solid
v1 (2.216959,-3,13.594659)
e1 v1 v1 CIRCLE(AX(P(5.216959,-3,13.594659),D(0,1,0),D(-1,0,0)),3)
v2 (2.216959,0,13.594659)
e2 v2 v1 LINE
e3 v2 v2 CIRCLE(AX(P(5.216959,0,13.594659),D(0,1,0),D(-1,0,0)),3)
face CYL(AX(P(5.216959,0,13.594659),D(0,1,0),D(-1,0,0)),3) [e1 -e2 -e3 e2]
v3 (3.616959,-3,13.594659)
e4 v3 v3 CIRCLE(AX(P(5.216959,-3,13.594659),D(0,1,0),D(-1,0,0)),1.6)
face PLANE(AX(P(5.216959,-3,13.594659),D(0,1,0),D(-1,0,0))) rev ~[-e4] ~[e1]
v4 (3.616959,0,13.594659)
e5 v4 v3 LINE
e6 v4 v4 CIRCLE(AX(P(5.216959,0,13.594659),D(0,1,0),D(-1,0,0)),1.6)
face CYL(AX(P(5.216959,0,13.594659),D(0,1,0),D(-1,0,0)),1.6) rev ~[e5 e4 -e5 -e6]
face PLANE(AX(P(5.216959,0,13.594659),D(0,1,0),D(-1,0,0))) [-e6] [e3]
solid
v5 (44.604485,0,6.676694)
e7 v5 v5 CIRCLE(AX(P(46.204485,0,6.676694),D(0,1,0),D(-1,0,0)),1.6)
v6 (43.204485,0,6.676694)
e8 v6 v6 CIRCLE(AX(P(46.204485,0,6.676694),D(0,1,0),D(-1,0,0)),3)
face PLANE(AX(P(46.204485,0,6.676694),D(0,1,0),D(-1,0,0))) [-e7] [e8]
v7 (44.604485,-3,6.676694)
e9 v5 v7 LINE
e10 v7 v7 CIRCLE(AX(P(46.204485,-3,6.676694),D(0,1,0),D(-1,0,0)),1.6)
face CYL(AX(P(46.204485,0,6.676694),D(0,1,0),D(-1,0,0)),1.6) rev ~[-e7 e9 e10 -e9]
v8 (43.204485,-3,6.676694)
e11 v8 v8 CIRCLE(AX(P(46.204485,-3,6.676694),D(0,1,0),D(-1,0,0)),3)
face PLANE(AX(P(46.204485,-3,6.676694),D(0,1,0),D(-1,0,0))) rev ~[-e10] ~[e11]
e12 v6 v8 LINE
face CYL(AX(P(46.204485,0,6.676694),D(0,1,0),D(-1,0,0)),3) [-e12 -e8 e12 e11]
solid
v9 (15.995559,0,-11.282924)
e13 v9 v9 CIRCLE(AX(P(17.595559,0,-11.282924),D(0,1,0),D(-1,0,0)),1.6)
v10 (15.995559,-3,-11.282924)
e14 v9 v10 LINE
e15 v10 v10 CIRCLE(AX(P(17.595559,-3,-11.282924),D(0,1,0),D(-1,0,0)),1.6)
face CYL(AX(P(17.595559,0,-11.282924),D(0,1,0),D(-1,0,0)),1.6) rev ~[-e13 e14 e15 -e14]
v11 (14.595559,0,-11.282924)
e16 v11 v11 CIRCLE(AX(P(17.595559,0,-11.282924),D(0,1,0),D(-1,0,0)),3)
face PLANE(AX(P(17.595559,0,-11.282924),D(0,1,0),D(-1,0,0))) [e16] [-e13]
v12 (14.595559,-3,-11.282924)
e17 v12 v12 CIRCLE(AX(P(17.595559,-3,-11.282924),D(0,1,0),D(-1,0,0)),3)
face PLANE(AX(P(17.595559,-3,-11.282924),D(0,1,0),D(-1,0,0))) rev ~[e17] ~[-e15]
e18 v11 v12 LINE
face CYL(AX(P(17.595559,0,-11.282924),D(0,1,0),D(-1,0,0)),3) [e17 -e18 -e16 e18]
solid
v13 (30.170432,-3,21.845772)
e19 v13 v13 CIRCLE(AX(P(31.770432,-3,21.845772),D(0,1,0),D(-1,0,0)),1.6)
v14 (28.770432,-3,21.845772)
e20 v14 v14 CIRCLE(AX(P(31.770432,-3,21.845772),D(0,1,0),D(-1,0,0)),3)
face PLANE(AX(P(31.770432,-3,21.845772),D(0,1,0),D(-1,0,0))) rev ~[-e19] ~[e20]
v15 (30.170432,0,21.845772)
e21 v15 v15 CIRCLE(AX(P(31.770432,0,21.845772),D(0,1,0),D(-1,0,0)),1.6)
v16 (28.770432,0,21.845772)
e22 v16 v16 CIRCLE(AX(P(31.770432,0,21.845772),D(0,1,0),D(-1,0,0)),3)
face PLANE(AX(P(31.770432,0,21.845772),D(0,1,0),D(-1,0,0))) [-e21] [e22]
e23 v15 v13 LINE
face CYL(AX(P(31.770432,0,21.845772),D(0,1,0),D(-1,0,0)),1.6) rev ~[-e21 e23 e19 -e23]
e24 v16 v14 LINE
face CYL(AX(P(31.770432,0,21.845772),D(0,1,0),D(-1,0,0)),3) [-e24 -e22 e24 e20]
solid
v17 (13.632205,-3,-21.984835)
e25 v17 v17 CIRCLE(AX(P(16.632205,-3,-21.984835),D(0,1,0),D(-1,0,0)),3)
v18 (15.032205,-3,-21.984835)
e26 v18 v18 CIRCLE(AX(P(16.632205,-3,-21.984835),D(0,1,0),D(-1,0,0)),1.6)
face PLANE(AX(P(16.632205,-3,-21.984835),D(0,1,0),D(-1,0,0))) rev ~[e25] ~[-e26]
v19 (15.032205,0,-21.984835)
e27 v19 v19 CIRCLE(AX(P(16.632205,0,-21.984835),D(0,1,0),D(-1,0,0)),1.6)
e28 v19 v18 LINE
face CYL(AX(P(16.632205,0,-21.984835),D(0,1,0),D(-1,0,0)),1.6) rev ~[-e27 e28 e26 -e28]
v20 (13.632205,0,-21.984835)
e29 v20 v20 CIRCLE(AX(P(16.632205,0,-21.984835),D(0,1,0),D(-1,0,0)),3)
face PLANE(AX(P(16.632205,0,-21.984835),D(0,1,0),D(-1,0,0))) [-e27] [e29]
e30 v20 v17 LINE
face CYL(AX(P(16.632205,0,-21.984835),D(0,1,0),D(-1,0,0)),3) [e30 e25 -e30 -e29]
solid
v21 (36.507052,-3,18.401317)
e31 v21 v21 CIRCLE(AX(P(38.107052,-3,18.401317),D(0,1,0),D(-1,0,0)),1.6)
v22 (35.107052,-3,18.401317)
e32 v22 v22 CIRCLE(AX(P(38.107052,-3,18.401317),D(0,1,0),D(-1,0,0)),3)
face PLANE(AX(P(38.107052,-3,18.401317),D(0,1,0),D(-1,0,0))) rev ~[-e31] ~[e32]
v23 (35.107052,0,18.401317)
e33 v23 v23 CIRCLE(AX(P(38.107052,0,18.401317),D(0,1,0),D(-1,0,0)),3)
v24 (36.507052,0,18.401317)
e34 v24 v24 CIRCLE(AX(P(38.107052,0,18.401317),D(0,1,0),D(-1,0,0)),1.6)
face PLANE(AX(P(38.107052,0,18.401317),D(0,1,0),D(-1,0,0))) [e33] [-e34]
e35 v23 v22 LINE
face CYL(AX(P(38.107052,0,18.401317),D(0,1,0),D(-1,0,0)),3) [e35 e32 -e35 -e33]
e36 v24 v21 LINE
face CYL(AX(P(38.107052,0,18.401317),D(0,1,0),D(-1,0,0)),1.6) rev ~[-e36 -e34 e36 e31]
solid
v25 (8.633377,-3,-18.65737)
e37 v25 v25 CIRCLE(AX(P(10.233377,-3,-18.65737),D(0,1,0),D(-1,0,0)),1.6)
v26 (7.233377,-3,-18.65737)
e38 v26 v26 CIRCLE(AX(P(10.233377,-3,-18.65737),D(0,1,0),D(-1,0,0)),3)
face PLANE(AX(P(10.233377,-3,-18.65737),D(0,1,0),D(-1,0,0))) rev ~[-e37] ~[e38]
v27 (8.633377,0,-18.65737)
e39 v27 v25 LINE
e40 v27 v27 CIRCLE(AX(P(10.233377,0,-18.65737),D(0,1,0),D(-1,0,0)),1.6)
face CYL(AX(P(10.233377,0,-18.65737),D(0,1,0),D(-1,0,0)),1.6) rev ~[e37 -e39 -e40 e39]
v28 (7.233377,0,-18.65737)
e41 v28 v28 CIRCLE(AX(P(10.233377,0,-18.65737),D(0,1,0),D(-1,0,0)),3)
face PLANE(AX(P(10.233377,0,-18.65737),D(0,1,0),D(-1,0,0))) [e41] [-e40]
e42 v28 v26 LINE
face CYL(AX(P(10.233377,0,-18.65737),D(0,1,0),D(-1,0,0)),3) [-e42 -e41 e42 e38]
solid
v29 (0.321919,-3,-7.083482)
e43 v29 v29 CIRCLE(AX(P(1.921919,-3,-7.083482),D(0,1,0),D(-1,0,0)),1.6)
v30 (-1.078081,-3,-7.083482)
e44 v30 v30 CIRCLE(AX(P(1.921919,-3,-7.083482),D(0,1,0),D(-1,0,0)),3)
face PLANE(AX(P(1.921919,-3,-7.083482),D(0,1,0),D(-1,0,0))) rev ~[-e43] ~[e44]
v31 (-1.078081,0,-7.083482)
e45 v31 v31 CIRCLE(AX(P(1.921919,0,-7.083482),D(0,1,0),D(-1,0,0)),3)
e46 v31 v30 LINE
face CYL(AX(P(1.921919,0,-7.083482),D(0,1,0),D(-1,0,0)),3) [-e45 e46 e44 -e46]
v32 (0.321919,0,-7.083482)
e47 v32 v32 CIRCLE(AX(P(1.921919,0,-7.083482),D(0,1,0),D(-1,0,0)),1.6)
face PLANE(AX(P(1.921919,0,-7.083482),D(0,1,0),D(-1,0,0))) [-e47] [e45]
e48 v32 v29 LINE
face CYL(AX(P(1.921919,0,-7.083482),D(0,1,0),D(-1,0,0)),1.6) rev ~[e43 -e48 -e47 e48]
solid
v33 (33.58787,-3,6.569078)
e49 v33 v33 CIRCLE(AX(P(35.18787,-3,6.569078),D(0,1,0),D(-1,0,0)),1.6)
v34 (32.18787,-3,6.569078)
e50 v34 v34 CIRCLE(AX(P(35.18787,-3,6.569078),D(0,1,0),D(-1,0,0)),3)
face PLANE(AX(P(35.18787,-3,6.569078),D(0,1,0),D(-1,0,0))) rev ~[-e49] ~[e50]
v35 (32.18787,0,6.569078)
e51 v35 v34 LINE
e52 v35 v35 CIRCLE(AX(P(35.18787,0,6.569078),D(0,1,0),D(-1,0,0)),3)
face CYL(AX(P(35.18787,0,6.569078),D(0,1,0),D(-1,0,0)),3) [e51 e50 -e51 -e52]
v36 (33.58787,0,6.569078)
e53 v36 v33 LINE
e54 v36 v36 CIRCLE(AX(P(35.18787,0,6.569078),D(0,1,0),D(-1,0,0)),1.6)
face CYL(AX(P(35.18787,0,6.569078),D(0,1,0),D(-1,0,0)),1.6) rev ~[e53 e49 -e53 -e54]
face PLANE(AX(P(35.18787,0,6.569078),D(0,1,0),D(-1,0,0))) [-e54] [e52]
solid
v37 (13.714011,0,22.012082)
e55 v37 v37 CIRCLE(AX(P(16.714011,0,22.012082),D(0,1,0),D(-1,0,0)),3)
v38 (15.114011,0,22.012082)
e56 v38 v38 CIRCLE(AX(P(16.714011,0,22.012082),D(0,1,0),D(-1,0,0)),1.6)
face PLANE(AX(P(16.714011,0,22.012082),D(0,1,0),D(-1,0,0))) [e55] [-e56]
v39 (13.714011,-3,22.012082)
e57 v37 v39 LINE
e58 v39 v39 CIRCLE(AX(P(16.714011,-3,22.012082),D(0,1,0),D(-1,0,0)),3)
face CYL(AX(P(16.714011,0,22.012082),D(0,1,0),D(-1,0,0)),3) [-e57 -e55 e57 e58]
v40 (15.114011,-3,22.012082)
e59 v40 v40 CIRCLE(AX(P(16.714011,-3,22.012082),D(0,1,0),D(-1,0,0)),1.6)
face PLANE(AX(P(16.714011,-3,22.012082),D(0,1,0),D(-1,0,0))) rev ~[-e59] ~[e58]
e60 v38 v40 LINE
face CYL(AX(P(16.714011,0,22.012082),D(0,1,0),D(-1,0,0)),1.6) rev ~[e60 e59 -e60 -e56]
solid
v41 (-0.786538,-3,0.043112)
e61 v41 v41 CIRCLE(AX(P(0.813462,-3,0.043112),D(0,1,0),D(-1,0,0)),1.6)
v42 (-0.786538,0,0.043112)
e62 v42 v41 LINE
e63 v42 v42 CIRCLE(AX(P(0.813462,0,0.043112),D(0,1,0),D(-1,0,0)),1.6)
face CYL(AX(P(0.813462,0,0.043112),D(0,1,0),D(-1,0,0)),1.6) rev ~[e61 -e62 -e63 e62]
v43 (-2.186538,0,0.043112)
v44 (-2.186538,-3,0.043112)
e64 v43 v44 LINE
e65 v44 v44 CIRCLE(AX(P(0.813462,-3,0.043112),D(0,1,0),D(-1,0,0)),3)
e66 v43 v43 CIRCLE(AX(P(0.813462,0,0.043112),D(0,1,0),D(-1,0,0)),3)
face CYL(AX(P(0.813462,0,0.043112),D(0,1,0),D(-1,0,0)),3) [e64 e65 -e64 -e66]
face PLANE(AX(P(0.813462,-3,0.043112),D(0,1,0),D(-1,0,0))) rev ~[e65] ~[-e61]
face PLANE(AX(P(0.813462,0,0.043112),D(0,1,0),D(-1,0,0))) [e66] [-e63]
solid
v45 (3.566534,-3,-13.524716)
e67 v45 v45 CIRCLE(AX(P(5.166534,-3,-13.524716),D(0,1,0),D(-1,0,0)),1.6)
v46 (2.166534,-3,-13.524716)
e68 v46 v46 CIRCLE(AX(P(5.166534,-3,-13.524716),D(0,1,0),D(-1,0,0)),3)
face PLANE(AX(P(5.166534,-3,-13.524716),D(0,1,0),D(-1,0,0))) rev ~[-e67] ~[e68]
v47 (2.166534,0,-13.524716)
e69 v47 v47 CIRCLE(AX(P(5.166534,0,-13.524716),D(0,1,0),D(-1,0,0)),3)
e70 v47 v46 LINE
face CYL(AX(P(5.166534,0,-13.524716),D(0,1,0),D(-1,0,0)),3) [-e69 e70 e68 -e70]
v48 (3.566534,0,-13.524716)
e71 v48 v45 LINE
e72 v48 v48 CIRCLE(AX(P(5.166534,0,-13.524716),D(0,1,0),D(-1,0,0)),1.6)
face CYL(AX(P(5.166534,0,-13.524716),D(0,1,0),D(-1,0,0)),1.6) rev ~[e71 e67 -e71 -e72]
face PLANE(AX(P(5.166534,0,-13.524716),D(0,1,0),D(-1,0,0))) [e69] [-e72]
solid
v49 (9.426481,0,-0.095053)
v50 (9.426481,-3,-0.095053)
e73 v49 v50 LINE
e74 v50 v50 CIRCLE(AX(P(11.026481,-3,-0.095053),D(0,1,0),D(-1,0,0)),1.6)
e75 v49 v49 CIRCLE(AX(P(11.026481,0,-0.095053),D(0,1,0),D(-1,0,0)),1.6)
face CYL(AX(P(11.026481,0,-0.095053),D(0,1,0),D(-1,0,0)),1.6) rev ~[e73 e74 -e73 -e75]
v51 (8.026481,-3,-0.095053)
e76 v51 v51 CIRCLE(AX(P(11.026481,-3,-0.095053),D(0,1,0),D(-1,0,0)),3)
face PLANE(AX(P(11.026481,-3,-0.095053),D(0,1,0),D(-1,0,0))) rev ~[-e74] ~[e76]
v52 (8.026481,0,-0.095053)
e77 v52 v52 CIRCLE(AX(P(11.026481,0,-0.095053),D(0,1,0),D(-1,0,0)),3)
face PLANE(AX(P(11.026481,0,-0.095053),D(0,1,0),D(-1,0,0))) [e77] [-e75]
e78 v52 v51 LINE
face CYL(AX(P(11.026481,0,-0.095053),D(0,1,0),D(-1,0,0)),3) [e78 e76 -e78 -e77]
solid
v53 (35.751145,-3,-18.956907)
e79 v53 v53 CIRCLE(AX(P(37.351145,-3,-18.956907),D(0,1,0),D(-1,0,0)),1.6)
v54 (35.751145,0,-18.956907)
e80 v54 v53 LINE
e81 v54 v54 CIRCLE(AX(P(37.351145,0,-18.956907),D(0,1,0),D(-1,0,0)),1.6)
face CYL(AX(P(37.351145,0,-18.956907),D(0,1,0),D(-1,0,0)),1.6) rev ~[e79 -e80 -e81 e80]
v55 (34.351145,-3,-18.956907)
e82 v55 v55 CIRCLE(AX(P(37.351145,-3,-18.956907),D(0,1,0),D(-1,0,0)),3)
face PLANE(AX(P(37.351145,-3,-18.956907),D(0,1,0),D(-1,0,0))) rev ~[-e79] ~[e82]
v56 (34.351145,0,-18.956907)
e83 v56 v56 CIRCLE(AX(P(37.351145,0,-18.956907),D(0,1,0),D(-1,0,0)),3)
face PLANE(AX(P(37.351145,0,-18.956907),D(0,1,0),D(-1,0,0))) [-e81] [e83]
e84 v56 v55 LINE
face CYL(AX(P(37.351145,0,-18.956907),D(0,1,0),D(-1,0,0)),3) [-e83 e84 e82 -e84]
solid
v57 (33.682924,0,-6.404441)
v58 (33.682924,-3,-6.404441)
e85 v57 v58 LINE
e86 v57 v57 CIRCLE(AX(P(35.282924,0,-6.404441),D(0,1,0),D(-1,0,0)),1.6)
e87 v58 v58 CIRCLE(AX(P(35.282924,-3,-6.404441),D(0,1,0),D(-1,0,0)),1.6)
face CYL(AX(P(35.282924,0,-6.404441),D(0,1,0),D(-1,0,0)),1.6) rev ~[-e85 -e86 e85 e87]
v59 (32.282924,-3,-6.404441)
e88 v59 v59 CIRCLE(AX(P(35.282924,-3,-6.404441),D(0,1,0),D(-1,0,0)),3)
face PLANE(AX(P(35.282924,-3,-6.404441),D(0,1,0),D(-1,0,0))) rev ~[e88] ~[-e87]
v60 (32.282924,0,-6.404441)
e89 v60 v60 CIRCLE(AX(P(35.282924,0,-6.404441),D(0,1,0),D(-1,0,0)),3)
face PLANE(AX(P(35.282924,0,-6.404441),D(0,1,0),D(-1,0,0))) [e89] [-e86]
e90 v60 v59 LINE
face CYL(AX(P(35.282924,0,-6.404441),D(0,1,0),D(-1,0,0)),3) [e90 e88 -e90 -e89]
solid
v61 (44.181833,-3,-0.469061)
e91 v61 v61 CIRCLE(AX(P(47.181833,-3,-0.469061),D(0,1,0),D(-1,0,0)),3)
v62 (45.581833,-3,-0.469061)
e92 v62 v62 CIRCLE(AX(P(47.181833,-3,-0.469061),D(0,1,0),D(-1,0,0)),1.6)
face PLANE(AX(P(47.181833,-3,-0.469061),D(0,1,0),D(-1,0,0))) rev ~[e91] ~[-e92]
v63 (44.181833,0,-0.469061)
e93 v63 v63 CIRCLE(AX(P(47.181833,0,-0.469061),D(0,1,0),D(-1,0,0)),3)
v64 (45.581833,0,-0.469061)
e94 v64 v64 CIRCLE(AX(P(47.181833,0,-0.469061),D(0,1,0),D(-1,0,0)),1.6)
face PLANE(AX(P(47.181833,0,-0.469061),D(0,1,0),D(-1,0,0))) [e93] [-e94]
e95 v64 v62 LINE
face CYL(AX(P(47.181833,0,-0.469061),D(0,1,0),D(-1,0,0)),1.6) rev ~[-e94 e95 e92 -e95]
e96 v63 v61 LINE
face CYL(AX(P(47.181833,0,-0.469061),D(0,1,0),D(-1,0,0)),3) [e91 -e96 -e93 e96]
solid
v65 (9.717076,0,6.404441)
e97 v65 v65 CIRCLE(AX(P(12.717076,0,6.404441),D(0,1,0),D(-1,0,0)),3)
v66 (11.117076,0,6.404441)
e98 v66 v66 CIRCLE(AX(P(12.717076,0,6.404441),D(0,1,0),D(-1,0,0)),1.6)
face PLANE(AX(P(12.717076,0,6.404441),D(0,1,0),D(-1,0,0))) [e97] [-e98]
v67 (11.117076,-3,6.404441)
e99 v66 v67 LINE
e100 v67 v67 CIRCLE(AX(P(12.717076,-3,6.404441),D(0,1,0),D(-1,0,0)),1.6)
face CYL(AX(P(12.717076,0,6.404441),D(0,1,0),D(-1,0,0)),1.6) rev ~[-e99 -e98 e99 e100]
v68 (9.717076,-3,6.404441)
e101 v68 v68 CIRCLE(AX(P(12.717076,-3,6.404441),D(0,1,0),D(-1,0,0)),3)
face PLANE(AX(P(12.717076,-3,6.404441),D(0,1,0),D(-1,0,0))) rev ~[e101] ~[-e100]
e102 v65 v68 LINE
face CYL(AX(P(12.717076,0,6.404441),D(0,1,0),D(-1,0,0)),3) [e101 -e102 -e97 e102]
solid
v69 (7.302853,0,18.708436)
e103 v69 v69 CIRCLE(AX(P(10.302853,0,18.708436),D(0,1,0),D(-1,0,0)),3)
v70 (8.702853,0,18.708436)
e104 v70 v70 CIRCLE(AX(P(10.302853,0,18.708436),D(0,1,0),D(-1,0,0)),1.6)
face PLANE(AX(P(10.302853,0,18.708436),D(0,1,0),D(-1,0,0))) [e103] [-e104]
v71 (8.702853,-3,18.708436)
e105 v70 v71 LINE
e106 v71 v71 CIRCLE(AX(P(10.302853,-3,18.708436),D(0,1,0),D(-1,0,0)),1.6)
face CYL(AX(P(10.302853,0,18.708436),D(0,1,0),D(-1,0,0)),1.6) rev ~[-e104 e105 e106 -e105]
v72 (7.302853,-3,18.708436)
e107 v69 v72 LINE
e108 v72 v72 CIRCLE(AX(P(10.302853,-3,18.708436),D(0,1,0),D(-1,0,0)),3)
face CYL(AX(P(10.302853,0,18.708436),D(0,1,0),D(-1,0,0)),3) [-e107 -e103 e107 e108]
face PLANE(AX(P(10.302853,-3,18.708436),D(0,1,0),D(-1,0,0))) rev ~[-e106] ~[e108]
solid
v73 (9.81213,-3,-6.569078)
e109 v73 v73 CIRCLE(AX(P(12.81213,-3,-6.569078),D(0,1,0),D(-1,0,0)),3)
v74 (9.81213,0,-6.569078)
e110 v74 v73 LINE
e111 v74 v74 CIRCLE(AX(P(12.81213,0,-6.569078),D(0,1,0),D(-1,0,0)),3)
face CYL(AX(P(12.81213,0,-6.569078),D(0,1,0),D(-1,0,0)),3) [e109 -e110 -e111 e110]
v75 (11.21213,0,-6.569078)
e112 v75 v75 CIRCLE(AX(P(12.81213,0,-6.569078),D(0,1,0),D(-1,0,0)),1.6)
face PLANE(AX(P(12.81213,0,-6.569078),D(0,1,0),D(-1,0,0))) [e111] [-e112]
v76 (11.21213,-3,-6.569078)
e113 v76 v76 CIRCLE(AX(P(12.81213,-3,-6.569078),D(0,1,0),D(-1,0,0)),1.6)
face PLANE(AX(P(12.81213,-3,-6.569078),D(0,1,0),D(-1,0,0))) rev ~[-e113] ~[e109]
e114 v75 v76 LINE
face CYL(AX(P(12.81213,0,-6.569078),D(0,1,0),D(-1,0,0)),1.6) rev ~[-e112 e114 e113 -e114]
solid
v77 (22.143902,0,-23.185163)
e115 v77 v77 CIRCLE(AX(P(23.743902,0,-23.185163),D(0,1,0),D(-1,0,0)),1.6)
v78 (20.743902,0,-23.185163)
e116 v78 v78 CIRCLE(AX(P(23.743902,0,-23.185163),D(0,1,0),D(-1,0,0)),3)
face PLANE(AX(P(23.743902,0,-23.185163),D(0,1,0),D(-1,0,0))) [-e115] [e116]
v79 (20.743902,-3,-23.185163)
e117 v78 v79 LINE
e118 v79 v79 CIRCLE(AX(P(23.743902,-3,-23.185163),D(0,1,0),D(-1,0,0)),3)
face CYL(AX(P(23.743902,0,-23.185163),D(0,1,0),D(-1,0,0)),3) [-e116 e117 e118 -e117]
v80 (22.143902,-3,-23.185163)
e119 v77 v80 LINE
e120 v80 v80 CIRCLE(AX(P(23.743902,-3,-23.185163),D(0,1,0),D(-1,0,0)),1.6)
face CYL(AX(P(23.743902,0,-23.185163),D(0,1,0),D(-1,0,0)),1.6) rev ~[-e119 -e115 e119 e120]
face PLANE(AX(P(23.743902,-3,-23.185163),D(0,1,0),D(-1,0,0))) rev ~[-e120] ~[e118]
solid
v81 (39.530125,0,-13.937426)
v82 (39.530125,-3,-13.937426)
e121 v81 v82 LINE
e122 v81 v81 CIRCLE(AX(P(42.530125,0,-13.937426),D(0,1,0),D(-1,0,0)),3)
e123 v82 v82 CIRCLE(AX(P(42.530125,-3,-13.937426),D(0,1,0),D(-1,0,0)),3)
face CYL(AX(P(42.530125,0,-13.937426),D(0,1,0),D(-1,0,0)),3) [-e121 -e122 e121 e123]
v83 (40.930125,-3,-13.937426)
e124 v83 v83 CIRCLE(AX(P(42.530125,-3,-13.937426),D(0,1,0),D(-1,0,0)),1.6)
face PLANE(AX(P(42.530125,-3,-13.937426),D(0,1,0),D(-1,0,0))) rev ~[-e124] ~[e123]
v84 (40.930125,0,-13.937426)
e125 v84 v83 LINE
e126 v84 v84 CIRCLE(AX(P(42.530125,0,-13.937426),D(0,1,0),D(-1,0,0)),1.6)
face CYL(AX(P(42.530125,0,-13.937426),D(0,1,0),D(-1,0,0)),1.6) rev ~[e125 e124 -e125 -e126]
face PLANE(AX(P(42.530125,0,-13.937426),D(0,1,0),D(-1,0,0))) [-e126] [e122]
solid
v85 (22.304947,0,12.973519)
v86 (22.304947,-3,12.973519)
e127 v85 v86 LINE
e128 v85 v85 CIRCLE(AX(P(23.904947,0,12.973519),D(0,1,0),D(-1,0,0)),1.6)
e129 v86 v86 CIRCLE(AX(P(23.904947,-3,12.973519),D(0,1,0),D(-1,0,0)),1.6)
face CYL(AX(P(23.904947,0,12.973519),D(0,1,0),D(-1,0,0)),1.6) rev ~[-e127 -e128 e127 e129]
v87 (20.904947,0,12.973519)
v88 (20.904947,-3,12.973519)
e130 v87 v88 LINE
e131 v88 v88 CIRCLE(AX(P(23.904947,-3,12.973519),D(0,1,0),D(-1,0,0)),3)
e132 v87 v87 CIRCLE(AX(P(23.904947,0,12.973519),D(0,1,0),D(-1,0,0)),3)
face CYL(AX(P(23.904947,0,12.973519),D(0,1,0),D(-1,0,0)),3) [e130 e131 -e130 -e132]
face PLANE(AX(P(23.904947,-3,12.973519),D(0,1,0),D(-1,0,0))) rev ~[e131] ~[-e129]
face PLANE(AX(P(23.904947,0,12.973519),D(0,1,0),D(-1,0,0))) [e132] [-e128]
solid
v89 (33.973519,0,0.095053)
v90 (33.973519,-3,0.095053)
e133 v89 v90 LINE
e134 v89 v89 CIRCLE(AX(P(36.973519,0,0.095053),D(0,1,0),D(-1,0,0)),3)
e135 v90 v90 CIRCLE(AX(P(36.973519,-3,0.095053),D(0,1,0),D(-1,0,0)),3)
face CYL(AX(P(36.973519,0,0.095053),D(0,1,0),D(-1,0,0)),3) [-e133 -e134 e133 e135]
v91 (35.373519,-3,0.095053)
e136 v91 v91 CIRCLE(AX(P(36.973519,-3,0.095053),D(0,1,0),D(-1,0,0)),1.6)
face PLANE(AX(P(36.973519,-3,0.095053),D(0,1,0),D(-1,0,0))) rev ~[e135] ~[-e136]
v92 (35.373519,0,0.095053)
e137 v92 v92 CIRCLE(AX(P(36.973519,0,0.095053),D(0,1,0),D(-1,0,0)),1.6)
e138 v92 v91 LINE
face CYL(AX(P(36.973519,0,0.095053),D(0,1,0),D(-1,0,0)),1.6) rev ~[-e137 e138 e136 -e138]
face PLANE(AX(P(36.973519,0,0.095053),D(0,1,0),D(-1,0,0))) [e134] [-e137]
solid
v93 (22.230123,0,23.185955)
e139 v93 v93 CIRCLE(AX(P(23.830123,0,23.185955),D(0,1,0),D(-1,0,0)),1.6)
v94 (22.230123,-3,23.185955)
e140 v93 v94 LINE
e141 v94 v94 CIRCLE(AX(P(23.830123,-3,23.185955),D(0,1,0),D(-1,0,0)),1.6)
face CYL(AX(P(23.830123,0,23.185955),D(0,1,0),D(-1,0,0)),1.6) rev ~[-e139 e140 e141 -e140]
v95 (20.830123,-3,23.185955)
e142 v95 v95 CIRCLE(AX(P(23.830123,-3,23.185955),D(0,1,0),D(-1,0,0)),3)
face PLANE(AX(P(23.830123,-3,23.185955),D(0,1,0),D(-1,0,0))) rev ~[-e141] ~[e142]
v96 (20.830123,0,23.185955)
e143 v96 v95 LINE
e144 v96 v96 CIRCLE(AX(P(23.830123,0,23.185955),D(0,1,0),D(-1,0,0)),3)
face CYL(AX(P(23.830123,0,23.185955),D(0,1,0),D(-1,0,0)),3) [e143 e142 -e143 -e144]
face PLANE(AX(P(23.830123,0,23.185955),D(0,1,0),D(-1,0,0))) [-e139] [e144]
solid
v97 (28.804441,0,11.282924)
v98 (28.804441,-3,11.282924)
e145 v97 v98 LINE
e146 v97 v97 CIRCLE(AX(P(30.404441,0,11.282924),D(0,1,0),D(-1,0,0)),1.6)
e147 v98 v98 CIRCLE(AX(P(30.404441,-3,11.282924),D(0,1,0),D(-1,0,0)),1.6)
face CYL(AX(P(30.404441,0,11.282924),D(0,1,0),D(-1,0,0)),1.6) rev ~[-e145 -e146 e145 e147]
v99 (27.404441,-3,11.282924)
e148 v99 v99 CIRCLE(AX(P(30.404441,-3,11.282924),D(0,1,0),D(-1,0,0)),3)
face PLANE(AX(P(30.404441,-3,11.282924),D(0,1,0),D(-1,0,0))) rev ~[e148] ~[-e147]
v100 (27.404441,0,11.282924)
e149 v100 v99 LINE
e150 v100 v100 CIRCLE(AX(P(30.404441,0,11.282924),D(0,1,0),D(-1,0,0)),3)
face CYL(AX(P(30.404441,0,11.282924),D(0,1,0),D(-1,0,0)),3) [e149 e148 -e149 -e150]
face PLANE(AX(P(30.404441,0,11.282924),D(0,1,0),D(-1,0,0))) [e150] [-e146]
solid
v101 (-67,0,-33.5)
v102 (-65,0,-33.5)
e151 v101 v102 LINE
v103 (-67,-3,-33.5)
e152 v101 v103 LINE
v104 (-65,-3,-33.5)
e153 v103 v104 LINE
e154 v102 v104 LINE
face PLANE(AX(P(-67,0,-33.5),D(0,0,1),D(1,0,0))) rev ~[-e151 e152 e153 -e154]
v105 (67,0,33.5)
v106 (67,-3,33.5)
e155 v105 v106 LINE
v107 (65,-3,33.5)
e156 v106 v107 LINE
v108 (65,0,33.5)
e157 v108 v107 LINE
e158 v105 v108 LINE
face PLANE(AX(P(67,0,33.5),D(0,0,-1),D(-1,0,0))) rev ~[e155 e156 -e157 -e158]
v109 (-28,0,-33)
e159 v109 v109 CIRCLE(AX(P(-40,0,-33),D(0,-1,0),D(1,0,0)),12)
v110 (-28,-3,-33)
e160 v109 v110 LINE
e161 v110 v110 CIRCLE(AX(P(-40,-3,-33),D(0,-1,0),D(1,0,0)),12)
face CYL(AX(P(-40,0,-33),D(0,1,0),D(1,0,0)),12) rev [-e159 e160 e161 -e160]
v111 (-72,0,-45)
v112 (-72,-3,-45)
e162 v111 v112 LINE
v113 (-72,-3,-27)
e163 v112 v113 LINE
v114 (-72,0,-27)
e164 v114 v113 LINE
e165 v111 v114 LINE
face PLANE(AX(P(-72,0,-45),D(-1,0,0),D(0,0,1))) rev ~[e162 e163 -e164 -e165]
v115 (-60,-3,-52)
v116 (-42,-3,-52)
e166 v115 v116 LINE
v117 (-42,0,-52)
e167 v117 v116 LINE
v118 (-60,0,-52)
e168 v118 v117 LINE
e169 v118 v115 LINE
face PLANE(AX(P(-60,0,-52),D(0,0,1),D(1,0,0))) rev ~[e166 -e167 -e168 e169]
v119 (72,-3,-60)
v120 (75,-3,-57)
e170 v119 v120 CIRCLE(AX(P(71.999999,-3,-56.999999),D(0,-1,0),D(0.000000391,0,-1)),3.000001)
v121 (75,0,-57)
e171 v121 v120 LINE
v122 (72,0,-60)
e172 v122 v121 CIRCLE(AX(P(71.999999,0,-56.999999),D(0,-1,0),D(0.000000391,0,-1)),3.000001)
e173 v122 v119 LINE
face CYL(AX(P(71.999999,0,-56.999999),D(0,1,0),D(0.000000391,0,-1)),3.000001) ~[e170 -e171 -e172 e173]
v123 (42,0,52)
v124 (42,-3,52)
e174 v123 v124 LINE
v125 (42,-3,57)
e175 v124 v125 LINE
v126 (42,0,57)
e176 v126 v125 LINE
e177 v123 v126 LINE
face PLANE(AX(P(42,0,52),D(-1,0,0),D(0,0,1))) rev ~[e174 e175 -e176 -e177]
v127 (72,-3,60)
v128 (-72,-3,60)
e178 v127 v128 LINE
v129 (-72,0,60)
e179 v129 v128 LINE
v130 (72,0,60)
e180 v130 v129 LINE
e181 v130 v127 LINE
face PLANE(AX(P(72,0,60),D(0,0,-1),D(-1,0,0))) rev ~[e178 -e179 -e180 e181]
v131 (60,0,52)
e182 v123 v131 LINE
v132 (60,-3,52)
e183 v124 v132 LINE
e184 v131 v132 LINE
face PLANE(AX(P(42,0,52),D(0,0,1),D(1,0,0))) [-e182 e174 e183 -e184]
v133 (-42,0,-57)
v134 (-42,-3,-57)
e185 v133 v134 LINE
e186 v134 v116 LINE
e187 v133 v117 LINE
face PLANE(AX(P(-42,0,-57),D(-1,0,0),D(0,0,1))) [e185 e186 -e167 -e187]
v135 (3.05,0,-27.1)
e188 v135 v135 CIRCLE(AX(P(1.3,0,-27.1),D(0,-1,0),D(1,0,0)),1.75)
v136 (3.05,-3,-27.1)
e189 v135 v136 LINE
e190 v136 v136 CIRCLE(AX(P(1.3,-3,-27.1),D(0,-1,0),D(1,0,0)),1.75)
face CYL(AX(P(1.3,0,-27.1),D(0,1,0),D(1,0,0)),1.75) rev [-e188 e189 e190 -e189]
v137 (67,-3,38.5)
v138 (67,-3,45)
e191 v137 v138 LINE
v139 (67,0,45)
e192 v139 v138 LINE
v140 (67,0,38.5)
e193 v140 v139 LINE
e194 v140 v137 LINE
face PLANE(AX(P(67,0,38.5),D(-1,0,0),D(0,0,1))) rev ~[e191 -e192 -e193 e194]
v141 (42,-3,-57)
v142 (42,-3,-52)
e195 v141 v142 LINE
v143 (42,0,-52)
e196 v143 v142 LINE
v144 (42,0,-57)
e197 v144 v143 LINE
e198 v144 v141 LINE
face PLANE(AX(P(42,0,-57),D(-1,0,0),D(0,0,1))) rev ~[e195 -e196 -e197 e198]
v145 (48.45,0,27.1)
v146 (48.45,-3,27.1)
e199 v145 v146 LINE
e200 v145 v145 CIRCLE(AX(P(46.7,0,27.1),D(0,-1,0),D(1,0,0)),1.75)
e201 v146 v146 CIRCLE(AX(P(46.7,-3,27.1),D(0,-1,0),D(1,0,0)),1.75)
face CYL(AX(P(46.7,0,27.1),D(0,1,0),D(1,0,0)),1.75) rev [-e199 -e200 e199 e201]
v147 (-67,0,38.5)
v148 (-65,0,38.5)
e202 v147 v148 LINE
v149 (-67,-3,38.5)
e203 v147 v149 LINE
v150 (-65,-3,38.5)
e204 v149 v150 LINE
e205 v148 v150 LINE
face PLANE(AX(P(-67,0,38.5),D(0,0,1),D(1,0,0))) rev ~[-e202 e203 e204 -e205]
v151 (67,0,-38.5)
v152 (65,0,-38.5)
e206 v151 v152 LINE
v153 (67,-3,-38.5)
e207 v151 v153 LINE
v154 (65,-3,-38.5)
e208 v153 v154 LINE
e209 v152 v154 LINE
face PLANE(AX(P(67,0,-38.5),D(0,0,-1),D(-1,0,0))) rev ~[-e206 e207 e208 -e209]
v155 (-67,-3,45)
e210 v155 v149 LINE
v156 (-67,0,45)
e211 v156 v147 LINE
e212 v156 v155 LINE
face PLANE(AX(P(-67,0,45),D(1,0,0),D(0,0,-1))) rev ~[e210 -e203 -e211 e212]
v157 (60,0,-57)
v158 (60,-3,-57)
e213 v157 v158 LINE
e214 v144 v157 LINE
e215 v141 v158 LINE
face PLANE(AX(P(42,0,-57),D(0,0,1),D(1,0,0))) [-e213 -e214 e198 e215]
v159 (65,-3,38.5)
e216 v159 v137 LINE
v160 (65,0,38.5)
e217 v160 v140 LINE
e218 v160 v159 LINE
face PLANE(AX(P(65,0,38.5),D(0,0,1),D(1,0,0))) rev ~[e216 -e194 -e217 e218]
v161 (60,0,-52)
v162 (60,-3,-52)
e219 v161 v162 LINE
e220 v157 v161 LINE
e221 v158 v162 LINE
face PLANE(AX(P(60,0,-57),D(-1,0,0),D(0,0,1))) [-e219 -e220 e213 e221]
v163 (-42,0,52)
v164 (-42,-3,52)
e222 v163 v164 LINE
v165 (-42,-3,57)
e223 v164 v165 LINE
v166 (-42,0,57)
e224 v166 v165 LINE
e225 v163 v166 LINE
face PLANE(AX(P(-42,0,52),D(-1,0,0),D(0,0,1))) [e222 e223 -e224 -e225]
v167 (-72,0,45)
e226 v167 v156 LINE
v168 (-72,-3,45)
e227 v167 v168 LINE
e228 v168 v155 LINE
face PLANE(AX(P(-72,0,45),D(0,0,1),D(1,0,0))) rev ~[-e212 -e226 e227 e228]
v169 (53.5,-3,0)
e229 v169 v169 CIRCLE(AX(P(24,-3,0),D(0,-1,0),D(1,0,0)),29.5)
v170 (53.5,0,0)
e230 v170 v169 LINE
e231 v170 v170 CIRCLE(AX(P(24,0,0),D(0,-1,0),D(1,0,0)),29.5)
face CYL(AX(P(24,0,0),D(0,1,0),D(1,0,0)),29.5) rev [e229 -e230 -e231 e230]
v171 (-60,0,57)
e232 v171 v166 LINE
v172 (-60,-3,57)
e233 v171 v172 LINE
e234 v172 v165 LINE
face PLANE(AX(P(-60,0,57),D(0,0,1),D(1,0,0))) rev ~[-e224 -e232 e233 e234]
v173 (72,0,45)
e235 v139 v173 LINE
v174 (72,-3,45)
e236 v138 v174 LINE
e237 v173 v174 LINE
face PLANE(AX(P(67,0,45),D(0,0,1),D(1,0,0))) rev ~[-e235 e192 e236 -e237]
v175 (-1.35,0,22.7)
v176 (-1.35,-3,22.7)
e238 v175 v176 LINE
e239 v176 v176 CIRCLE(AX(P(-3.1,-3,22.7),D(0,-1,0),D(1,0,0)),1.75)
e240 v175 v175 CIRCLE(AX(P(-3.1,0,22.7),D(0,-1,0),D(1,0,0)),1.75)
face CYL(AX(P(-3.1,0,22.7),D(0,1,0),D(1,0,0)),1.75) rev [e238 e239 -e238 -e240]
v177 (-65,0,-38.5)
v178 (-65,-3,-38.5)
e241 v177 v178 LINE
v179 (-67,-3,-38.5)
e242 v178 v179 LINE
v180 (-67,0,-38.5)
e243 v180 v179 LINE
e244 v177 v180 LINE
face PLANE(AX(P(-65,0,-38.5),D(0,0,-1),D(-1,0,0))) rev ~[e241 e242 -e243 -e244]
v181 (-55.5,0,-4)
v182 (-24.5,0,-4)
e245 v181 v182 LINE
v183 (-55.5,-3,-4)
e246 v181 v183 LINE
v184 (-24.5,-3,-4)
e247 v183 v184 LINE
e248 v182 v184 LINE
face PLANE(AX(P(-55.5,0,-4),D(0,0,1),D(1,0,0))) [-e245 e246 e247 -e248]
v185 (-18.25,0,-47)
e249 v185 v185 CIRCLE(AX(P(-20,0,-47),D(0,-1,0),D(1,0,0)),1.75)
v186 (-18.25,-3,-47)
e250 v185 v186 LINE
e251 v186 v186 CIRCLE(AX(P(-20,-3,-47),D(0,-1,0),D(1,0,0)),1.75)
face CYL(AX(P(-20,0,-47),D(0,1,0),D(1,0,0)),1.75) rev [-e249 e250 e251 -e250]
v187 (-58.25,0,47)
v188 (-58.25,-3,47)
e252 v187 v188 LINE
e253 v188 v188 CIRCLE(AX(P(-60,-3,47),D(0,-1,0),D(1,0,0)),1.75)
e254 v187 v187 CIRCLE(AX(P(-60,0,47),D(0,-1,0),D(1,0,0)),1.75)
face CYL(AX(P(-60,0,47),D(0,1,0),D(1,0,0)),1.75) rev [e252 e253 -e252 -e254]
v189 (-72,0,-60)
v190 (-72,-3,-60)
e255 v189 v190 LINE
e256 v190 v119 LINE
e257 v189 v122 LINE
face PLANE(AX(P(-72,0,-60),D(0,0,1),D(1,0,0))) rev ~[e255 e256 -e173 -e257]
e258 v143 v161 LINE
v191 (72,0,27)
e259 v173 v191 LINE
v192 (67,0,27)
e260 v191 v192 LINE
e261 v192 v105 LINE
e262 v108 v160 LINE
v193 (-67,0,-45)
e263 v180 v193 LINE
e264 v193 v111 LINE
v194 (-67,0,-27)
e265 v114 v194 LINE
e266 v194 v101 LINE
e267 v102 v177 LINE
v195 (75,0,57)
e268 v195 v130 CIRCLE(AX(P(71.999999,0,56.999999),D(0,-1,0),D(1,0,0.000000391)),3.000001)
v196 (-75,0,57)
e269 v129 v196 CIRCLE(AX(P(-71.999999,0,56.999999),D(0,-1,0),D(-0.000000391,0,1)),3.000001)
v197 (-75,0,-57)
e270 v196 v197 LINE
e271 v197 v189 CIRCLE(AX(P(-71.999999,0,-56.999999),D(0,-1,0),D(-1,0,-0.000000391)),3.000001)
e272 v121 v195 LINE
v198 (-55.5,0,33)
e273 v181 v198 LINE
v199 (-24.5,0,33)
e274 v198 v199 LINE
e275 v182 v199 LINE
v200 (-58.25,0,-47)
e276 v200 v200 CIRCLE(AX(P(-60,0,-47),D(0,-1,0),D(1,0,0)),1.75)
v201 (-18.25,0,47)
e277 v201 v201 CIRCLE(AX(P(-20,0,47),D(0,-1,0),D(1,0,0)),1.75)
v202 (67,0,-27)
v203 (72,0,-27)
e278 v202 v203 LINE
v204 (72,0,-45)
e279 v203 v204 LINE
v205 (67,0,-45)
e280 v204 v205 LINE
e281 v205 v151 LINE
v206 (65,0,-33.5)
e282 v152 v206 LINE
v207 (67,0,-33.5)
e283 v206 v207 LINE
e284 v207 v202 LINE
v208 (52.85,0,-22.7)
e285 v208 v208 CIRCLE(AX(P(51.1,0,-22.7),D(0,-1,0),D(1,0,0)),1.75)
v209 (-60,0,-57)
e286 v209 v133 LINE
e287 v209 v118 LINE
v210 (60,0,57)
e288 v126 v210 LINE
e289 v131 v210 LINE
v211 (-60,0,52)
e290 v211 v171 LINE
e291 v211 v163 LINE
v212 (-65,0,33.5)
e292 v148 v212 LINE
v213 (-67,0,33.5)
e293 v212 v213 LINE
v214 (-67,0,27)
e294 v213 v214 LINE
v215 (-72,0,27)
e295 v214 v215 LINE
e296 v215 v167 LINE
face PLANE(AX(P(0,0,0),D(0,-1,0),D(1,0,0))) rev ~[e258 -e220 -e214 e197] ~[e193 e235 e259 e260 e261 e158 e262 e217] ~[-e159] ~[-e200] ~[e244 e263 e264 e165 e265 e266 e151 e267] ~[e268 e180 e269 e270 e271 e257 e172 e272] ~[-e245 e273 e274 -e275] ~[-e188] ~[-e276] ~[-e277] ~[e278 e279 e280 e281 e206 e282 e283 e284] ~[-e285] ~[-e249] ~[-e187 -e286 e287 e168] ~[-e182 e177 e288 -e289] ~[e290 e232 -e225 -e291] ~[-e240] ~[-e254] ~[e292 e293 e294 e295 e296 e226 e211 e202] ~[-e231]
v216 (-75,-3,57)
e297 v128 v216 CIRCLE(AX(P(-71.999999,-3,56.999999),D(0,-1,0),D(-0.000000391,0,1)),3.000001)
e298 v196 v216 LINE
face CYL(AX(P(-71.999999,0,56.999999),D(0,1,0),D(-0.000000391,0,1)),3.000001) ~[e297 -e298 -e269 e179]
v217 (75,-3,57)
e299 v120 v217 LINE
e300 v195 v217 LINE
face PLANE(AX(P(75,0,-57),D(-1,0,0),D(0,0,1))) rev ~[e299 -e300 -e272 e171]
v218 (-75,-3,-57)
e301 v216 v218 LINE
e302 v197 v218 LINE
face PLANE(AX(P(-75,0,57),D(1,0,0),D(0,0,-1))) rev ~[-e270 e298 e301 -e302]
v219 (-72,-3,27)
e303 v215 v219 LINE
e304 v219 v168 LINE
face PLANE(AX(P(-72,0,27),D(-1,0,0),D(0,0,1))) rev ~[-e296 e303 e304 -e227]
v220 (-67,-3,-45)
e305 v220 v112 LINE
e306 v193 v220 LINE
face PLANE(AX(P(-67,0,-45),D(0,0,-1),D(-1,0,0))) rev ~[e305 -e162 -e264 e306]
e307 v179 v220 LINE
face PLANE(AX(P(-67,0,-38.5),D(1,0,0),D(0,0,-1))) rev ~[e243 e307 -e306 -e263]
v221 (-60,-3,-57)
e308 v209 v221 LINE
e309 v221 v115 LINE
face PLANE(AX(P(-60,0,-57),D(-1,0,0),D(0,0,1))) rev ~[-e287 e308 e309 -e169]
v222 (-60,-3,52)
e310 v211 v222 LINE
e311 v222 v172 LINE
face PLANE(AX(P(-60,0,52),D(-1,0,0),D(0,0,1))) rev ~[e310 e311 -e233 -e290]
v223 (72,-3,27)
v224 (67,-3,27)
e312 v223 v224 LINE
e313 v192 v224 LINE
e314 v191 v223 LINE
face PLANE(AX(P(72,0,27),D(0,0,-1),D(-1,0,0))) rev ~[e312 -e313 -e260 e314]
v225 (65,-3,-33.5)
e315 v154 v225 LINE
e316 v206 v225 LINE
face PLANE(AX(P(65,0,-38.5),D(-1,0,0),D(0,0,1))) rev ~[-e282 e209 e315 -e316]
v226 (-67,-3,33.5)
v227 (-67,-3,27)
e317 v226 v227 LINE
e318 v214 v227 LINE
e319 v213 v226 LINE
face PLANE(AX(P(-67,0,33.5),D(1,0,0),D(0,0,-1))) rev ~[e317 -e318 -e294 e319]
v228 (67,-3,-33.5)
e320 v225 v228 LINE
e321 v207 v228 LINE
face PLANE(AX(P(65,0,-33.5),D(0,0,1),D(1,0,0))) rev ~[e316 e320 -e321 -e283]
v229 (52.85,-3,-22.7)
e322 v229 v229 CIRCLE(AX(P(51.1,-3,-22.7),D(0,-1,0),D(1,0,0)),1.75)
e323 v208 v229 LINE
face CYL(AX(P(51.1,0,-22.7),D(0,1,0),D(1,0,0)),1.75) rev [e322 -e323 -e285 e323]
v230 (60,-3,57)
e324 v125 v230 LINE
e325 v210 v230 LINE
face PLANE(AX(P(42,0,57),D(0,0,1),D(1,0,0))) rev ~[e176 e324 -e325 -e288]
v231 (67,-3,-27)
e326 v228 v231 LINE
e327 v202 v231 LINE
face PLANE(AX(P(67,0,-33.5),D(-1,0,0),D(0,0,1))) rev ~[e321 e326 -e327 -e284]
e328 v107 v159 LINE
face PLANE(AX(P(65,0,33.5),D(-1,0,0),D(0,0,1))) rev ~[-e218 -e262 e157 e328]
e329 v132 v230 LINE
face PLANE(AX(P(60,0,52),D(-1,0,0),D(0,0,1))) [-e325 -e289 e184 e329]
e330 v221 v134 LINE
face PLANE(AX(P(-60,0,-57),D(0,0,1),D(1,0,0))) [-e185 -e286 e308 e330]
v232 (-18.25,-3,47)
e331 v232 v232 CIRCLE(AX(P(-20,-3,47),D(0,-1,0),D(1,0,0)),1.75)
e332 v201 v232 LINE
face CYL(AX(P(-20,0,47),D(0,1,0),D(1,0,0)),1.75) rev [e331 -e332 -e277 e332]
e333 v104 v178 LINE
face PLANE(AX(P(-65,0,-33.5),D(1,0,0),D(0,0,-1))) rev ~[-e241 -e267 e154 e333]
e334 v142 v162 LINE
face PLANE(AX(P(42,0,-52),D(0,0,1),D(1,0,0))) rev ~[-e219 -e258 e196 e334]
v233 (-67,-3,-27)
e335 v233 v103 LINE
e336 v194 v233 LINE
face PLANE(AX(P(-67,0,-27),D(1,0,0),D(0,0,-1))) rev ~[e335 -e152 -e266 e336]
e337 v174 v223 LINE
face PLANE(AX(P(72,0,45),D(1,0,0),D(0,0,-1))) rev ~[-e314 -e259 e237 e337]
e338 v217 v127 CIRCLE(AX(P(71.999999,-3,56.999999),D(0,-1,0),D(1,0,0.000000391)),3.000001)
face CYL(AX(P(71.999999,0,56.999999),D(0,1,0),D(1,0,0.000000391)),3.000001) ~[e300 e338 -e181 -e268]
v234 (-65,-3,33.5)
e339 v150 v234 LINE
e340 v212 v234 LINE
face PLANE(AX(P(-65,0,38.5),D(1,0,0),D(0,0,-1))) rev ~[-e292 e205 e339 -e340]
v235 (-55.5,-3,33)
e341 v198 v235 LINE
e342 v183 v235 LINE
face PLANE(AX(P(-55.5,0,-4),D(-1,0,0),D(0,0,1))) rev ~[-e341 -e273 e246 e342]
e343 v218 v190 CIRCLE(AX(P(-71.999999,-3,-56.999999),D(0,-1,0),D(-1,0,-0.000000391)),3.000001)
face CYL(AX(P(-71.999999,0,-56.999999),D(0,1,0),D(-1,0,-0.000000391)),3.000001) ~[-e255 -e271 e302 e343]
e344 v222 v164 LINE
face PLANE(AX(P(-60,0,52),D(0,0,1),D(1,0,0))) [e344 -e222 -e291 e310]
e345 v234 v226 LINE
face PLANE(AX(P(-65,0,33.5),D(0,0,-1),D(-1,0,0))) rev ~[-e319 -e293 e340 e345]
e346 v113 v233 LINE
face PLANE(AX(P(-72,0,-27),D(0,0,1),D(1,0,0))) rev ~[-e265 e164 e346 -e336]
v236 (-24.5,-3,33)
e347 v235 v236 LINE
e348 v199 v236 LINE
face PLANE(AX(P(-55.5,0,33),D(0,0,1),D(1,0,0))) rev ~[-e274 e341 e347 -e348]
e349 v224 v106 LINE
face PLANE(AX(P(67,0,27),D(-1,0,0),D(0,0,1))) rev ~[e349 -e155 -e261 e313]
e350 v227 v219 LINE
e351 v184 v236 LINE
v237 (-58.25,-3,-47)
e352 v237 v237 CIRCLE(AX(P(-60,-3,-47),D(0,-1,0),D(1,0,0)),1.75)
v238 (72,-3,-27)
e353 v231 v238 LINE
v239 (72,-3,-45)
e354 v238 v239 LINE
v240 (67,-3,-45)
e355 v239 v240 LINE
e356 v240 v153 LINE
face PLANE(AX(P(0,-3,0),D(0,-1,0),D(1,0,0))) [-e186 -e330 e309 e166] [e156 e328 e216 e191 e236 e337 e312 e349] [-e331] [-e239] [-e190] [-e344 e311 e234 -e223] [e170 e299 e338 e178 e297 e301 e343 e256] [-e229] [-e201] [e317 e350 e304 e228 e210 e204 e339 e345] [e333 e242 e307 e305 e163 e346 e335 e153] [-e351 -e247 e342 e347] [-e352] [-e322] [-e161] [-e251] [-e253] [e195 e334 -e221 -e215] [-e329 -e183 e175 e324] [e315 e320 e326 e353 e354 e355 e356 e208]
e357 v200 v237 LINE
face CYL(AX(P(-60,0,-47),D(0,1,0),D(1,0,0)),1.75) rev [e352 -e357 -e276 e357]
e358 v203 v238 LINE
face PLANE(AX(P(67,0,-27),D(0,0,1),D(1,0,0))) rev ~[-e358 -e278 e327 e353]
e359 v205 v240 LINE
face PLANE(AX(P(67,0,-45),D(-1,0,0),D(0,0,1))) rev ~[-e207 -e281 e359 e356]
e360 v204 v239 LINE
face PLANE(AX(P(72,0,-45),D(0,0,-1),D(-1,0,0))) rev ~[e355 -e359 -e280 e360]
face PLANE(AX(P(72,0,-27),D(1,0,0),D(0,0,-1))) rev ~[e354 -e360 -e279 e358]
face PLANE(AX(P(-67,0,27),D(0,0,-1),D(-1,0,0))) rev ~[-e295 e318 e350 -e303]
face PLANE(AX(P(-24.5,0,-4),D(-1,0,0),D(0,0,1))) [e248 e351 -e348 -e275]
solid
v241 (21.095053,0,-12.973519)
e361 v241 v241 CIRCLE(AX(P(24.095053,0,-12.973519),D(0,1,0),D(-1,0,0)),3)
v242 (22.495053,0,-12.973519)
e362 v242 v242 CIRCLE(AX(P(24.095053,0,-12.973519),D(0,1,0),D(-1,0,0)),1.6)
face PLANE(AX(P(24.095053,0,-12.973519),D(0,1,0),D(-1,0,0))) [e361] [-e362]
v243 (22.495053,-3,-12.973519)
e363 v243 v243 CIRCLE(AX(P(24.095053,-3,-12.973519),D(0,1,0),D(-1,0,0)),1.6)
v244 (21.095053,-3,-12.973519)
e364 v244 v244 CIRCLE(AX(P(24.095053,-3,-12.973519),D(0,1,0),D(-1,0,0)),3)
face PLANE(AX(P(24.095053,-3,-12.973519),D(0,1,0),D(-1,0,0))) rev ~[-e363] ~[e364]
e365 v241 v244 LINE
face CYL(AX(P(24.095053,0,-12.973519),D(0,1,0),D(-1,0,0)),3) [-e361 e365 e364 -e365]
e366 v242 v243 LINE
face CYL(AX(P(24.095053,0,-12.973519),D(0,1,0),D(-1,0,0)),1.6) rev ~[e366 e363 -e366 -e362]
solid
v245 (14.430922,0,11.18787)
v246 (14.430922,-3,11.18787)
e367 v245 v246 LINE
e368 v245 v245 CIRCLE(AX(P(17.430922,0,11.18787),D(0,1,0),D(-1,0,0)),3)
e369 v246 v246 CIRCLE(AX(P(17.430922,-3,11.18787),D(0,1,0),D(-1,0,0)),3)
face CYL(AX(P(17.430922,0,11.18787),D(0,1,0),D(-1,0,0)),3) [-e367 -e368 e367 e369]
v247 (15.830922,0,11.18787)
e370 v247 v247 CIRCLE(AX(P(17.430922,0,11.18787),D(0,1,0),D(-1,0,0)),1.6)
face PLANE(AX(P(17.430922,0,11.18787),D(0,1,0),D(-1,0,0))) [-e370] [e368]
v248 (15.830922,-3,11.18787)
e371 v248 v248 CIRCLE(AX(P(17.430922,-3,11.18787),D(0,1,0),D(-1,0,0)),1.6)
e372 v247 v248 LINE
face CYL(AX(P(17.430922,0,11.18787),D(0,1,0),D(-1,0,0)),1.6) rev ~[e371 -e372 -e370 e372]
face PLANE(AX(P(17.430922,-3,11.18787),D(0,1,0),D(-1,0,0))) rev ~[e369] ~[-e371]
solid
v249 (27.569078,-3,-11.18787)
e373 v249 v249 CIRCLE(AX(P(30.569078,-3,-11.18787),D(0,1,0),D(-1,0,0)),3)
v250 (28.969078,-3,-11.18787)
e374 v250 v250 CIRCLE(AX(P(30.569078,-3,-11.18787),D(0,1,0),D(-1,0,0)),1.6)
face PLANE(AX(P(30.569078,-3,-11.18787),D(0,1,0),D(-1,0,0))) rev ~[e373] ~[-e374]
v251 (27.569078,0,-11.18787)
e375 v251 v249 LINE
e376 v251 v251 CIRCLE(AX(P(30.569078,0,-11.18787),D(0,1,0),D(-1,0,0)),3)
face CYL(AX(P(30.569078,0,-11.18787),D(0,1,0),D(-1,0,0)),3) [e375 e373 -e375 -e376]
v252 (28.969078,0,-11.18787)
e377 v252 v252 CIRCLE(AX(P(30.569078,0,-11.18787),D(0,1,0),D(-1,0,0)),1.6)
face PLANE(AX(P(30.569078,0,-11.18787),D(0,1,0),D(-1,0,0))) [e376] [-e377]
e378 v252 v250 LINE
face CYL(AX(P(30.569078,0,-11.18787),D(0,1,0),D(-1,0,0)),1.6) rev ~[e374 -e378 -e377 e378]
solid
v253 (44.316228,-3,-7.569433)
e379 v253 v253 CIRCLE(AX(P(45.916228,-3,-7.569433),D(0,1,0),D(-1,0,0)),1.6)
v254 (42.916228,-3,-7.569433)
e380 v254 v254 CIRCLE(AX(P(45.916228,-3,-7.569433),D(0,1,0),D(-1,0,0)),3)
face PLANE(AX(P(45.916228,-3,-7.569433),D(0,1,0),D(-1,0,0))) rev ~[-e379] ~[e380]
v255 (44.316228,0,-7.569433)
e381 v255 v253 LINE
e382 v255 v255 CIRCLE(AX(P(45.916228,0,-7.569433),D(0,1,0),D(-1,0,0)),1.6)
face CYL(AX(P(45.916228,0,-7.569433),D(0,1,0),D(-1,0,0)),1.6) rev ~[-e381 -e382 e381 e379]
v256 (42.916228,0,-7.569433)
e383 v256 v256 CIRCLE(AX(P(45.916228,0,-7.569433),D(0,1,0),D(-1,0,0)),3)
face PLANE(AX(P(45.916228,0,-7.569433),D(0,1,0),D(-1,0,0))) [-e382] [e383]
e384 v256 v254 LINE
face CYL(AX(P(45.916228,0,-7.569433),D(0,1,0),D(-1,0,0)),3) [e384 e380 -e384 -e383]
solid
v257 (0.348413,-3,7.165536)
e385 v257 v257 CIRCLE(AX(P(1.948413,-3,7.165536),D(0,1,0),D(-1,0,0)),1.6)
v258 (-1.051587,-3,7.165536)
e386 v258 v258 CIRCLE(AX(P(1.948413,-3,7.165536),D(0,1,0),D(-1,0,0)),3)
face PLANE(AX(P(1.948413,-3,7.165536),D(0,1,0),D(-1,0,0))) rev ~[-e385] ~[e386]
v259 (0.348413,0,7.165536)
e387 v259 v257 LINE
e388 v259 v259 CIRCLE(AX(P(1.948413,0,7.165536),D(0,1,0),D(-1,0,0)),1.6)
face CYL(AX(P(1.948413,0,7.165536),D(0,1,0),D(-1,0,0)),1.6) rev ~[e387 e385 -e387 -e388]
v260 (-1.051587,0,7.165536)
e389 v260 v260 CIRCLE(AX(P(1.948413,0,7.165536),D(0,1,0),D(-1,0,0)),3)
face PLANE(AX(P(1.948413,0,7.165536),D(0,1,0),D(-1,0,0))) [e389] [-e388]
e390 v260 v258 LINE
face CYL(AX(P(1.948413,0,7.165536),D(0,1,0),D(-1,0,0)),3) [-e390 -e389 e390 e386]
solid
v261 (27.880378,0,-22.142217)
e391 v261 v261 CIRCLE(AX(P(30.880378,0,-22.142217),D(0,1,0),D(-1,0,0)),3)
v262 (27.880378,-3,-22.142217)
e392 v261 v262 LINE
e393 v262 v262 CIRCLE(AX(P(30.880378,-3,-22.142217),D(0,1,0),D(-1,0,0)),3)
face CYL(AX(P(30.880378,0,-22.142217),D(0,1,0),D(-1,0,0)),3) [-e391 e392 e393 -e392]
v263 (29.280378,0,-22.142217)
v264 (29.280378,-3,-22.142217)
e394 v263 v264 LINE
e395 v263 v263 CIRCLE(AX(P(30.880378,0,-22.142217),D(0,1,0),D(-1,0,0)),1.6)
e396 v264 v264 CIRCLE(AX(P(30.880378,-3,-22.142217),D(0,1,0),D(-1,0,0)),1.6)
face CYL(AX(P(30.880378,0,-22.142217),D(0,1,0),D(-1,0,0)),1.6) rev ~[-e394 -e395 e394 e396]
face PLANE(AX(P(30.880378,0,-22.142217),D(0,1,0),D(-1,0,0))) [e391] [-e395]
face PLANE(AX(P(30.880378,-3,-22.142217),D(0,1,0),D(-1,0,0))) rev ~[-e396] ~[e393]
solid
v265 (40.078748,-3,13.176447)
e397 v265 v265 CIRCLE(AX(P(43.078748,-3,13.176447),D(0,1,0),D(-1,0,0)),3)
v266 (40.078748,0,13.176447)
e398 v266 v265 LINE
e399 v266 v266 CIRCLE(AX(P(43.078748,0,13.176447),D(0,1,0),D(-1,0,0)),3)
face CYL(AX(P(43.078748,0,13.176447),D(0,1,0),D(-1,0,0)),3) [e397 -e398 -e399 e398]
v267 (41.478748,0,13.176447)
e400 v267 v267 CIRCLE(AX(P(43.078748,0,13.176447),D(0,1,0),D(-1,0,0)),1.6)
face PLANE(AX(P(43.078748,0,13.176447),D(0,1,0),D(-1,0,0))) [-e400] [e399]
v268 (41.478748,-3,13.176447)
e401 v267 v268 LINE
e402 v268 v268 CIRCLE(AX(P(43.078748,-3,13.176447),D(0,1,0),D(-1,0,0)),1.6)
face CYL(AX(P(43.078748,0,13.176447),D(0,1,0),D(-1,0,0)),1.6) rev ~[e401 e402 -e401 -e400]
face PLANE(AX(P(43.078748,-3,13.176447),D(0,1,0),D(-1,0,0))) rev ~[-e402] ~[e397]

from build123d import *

# Parameters (mm, degrees)
F0_R     = 1.75
F0_W     = 18
F0_H     = 5
F0_R_2   = 12
F0_W_2   = 31
F0_H_2   = 37
F0_R_3   = 29.5
F1_DEPTH = 3
F2_R     = 3
F2_R_2   = 1.6
F3_DEPTH = 3


with BuildPart() as f1:
    # F0 (on Front) → F1 (new body)
    with BuildSketch(Plane.XZ):
        with BuildLine():
            Line((72, 60), (-72, 60))
            ThreePointArc((-72, 60), (-74.12132, 59.12132), (-75, 57))
            Line((-75, 57), (-75, -57))
            ThreePointArc((-75, -57), (-74.12132, -59.12132), (-72, -60))
            Line((-72, -60), (72, -60))
            ThreePointArc((72, -60), (74.12132, -59.12132), (75, -57))
            Line((75, -57), (75, 57))
            ThreePointArc((75, 57), (74.12132, 59.12132), (72, 60))
        make_face()
        with Locations((-60, -47)):
            Circle(F0_R, mode=Mode.SUBTRACT)
        with Locations((-51, -54.5)):
            Rectangle(F0_W, F0_H, mode=Mode.SUBTRACT)
        Polygon((-72, -27), (-67, -27), (-67, -33.5), (-65, -33.5), (-65, -38.5), (-67, -38.5), (-67, -45), (-72, -45), align=None, mode=Mode.SUBTRACT)
        with Locations((-40, -33)):
            Circle(F0_R_2, mode=Mode.SUBTRACT)
        with Locations((-20, -47)):
            Circle(F0_R, mode=Mode.SUBTRACT)
        with Locations((51, -54.5)):
            Rectangle(F0_W, F0_H, mode=Mode.SUBTRACT)
        Polygon((67, -27), (72, -27), (72, -45), (67, -45), (67, -38.5), (65, -38.5), (65, -33.5), (67, -33.5), align=None, mode=Mode.SUBTRACT)
        with Locations((1.3, -27.1)):
            Circle(F0_R, mode=Mode.SUBTRACT)
        with Locations((51.1, -22.7)):
            Circle(F0_R, mode=Mode.SUBTRACT)
        with Locations((-40, 14.5)):
            Rectangle(F0_W_2, F0_H_2, mode=Mode.SUBTRACT)
        with Locations((-3.1, 22.7)):
            Circle(F0_R, mode=Mode.SUBTRACT)
        Polygon((-67, 33.5), (-67, 27), (-72, 27), (-72, 45), (-67, 45), (-67, 38.5), (-65, 38.5), (-65, 33.5), align=None, mode=Mode.SUBTRACT)
        with Locations((-60, 47)):
            Circle(F0_R, mode=Mode.SUBTRACT)
        with Locations((-51, 54.5)):
            Rectangle(F0_W, F0_H, mode=Mode.SUBTRACT)
        with Locations((-20, 47)):
            Circle(F0_R, mode=Mode.SUBTRACT)
        with Locations((24, 0)):
            Circle(F0_R_3, mode=Mode.SUBTRACT)
        with Locations((46.7, 27.1)):
            Circle(F0_R, mode=Mode.SUBTRACT)
        Polygon((67, 45), (72, 45), (72, 27), (67, 27), (67, 33.5), (65, 33.5), (65, 38.5), (67, 38.5), align=None, mode=Mode.SUBTRACT)
        with Locations((51, 54.5)):
            Rectangle(F0_W, F0_H, mode=Mode.SUBTRACT)
    extrude(amount=F1_DEPTH)


with BuildPart() as f3:
    # F2 (on face) → F3 (new body)
    with BuildSketch(Plane(origin=(0, 0, 0), x_dir=(-1, 0, 0), z_dir=(0, 1, 0))):
        with Locations((-23.830123, 23.185955)):
            Circle(F2_R)
        with Locations((-23.830123, 23.185955)):
            Circle(F2_R_2, mode=Mode.SUBTRACT)
        with Locations((-16.714011, 22.012082)):
            Circle(F2_R)
        with Locations((-16.714011, 22.012082)):
            Circle(F2_R_2, mode=Mode.SUBTRACT)
        with Locations((-10.302853, 18.708436)):
            Circle(F2_R)
        with Locations((-10.302853, 18.708436)):
            Circle(F2_R_2, mode=Mode.SUBTRACT)
        with Locations((-5.216959, 13.594659)):
            Circle(F2_R)
        with Locations((-5.216959, 13.594659)):
            Circle(F2_R_2, mode=Mode.SUBTRACT)
        with Locations((-1.948413, 7.165536)):
            Circle(F2_R)
        with Locations((-1.948413, 7.165536)):
            Circle(F2_R_2, mode=Mode.SUBTRACT)
        with Locations((-0.813462, 0.043112)):
            Circle(F2_R)
        with Locations((-0.813462, 0.043112)):
            Circle(F2_R_2, mode=Mode.SUBTRACT)
        with Locations((-1.921919, -7.083482)):
            Circle(F2_R)
        with Locations((-1.921919, -7.083482)):
            Circle(F2_R_2, mode=Mode.SUBTRACT)
        with Locations((-5.166534, -13.524716)):
            Circle(F2_R)
        with Locations((-5.166534, -13.524716)):
            Circle(F2_R_2, mode=Mode.SUBTRACT)
        with Locations((-10.233377, -18.65737)):
            Circle(F2_R)
        with Locations((-10.233377, -18.65737)):
            Circle(F2_R_2, mode=Mode.SUBTRACT)
        with Locations((-16.632205, -21.984835)):
            Circle(F2_R)
        with Locations((-16.632205, -21.984835)):
            Circle(F2_R_2, mode=Mode.SUBTRACT)
        with Locations((-23.743902, -23.185163)):
            Circle(F2_R)
        with Locations((-23.743902, -23.185163)):
            Circle(F2_R_2, mode=Mode.SUBTRACT)
        with Locations((-30.880378, -22.142217)):
            Circle(F2_R)
        with Locations((-30.880378, -22.142217)):
            Circle(F2_R_2, mode=Mode.SUBTRACT)
        with Locations((-37.351145, -18.956907)):
            Circle(F2_R)
        with Locations((-37.351145, -18.956907)):
            Circle(F2_R_2, mode=Mode.SUBTRACT)
        with Locations((-42.530125, -13.937426)):
            Circle(F2_R)
        with Locations((-42.530125, -13.937426)):
            Circle(F2_R_2, mode=Mode.SUBTRACT)
        with Locations((-45.916228, -7.569433)):
            Circle(F2_R)
        with Locations((-45.916228, -7.569433)):
            Circle(F2_R_2, mode=Mode.SUBTRACT)
        with Locations((-47.181833, -0.469061)):
            Circle(F2_R)
        with Locations((-47.181833, -0.469061)):
            Circle(F2_R_2, mode=Mode.SUBTRACT)
        with Locations((-46.204485, 6.676694)):
            Circle(F2_R)
        with Locations((-46.204485, 6.676694)):
            Circle(F2_R_2, mode=Mode.SUBTRACT)
        with Locations((-43.078748, 13.176447)):
            Circle(F2_R)
        with Locations((-43.078748, 13.176447)):
            Circle(F2_R_2, mode=Mode.SUBTRACT)
        with Locations((-38.107052, 18.401317)):
            Circle(F2_R)
        with Locations((-38.107052, 18.401317)):
            Circle(F2_R_2, mode=Mode.SUBTRACT)
        with Locations((-31.770432, 21.845772)):
            Circle(F2_R)
        with Locations((-31.770432, 21.845772)):
            Circle(F2_R_2, mode=Mode.SUBTRACT)
        with Locations((-23.904947, 12.973519)):
            Circle(F2_R)
        with Locations((-23.904947, 12.973519)):
            Circle(F2_R_2, mode=Mode.SUBTRACT)
        with Locations((-17.430922, 11.18787)):
            Circle(F2_R)
        with Locations((-17.430922, 11.18787)):
            Circle(F2_R_2, mode=Mode.SUBTRACT)
        with Locations((-12.717076, 6.404441)):
            Circle(F2_R)
        with Locations((-12.717076, 6.404441)):
            Circle(F2_R_2, mode=Mode.SUBTRACT)
        with Locations((-11.026481, -0.095053)):
            Circle(F2_R)
        with Locations((-11.026481, -0.095053)):
            Circle(F2_R_2, mode=Mode.SUBTRACT)
        with Locations((-12.81213, -6.569078)):
            Circle(F2_R)
        with Locations((-12.81213, -6.569078)):
            Circle(F2_R_2, mode=Mode.SUBTRACT)
        with Locations((-17.595559, -11.282924)):
            Circle(F2_R)
        with Locations((-17.595559, -11.282924)):
            Circle(F2_R_2, mode=Mode.SUBTRACT)
        with Locations((-24.095053, -12.973519)):
            Circle(F2_R)
        with Locations((-24.095053, -12.973519)):
            Circle(F2_R_2, mode=Mode.SUBTRACT)
        with Locations((-30.569078, -11.18787)):
            Circle(F2_R)
        with Locations((-30.569078, -11.18787)):
            Circle(F2_R_2, mode=Mode.SUBTRACT)
        with Locations((-35.282924, -6.404441)):
            Circle(F2_R)
        with Locations((-35.282924, -6.404441)):
            Circle(F2_R_2, mode=Mode.SUBTRACT)
        with Locations((-36.973519, 0.095053)):
            Circle(F2_R)
        with Locations((-36.973519, 0.095053)):
            Circle(F2_R_2, mode=Mode.SUBTRACT)
        with Locations((-35.18787, 6.569078)):
            Circle(F2_R)
        with Locations((-35.18787, 6.569078)):
            Circle(F2_R_2, mode=Mode.SUBTRACT)
        with Locations((-30.404441, 11.282924)):
            Circle(F2_R)
        with Locations((-30.404441, 11.282924)):
            Circle(F2_R_2, mode=Mode.SUBTRACT)
    extrude(amount=-F3_DEPTH)


solid = Compound([f1.part, f3.part])
